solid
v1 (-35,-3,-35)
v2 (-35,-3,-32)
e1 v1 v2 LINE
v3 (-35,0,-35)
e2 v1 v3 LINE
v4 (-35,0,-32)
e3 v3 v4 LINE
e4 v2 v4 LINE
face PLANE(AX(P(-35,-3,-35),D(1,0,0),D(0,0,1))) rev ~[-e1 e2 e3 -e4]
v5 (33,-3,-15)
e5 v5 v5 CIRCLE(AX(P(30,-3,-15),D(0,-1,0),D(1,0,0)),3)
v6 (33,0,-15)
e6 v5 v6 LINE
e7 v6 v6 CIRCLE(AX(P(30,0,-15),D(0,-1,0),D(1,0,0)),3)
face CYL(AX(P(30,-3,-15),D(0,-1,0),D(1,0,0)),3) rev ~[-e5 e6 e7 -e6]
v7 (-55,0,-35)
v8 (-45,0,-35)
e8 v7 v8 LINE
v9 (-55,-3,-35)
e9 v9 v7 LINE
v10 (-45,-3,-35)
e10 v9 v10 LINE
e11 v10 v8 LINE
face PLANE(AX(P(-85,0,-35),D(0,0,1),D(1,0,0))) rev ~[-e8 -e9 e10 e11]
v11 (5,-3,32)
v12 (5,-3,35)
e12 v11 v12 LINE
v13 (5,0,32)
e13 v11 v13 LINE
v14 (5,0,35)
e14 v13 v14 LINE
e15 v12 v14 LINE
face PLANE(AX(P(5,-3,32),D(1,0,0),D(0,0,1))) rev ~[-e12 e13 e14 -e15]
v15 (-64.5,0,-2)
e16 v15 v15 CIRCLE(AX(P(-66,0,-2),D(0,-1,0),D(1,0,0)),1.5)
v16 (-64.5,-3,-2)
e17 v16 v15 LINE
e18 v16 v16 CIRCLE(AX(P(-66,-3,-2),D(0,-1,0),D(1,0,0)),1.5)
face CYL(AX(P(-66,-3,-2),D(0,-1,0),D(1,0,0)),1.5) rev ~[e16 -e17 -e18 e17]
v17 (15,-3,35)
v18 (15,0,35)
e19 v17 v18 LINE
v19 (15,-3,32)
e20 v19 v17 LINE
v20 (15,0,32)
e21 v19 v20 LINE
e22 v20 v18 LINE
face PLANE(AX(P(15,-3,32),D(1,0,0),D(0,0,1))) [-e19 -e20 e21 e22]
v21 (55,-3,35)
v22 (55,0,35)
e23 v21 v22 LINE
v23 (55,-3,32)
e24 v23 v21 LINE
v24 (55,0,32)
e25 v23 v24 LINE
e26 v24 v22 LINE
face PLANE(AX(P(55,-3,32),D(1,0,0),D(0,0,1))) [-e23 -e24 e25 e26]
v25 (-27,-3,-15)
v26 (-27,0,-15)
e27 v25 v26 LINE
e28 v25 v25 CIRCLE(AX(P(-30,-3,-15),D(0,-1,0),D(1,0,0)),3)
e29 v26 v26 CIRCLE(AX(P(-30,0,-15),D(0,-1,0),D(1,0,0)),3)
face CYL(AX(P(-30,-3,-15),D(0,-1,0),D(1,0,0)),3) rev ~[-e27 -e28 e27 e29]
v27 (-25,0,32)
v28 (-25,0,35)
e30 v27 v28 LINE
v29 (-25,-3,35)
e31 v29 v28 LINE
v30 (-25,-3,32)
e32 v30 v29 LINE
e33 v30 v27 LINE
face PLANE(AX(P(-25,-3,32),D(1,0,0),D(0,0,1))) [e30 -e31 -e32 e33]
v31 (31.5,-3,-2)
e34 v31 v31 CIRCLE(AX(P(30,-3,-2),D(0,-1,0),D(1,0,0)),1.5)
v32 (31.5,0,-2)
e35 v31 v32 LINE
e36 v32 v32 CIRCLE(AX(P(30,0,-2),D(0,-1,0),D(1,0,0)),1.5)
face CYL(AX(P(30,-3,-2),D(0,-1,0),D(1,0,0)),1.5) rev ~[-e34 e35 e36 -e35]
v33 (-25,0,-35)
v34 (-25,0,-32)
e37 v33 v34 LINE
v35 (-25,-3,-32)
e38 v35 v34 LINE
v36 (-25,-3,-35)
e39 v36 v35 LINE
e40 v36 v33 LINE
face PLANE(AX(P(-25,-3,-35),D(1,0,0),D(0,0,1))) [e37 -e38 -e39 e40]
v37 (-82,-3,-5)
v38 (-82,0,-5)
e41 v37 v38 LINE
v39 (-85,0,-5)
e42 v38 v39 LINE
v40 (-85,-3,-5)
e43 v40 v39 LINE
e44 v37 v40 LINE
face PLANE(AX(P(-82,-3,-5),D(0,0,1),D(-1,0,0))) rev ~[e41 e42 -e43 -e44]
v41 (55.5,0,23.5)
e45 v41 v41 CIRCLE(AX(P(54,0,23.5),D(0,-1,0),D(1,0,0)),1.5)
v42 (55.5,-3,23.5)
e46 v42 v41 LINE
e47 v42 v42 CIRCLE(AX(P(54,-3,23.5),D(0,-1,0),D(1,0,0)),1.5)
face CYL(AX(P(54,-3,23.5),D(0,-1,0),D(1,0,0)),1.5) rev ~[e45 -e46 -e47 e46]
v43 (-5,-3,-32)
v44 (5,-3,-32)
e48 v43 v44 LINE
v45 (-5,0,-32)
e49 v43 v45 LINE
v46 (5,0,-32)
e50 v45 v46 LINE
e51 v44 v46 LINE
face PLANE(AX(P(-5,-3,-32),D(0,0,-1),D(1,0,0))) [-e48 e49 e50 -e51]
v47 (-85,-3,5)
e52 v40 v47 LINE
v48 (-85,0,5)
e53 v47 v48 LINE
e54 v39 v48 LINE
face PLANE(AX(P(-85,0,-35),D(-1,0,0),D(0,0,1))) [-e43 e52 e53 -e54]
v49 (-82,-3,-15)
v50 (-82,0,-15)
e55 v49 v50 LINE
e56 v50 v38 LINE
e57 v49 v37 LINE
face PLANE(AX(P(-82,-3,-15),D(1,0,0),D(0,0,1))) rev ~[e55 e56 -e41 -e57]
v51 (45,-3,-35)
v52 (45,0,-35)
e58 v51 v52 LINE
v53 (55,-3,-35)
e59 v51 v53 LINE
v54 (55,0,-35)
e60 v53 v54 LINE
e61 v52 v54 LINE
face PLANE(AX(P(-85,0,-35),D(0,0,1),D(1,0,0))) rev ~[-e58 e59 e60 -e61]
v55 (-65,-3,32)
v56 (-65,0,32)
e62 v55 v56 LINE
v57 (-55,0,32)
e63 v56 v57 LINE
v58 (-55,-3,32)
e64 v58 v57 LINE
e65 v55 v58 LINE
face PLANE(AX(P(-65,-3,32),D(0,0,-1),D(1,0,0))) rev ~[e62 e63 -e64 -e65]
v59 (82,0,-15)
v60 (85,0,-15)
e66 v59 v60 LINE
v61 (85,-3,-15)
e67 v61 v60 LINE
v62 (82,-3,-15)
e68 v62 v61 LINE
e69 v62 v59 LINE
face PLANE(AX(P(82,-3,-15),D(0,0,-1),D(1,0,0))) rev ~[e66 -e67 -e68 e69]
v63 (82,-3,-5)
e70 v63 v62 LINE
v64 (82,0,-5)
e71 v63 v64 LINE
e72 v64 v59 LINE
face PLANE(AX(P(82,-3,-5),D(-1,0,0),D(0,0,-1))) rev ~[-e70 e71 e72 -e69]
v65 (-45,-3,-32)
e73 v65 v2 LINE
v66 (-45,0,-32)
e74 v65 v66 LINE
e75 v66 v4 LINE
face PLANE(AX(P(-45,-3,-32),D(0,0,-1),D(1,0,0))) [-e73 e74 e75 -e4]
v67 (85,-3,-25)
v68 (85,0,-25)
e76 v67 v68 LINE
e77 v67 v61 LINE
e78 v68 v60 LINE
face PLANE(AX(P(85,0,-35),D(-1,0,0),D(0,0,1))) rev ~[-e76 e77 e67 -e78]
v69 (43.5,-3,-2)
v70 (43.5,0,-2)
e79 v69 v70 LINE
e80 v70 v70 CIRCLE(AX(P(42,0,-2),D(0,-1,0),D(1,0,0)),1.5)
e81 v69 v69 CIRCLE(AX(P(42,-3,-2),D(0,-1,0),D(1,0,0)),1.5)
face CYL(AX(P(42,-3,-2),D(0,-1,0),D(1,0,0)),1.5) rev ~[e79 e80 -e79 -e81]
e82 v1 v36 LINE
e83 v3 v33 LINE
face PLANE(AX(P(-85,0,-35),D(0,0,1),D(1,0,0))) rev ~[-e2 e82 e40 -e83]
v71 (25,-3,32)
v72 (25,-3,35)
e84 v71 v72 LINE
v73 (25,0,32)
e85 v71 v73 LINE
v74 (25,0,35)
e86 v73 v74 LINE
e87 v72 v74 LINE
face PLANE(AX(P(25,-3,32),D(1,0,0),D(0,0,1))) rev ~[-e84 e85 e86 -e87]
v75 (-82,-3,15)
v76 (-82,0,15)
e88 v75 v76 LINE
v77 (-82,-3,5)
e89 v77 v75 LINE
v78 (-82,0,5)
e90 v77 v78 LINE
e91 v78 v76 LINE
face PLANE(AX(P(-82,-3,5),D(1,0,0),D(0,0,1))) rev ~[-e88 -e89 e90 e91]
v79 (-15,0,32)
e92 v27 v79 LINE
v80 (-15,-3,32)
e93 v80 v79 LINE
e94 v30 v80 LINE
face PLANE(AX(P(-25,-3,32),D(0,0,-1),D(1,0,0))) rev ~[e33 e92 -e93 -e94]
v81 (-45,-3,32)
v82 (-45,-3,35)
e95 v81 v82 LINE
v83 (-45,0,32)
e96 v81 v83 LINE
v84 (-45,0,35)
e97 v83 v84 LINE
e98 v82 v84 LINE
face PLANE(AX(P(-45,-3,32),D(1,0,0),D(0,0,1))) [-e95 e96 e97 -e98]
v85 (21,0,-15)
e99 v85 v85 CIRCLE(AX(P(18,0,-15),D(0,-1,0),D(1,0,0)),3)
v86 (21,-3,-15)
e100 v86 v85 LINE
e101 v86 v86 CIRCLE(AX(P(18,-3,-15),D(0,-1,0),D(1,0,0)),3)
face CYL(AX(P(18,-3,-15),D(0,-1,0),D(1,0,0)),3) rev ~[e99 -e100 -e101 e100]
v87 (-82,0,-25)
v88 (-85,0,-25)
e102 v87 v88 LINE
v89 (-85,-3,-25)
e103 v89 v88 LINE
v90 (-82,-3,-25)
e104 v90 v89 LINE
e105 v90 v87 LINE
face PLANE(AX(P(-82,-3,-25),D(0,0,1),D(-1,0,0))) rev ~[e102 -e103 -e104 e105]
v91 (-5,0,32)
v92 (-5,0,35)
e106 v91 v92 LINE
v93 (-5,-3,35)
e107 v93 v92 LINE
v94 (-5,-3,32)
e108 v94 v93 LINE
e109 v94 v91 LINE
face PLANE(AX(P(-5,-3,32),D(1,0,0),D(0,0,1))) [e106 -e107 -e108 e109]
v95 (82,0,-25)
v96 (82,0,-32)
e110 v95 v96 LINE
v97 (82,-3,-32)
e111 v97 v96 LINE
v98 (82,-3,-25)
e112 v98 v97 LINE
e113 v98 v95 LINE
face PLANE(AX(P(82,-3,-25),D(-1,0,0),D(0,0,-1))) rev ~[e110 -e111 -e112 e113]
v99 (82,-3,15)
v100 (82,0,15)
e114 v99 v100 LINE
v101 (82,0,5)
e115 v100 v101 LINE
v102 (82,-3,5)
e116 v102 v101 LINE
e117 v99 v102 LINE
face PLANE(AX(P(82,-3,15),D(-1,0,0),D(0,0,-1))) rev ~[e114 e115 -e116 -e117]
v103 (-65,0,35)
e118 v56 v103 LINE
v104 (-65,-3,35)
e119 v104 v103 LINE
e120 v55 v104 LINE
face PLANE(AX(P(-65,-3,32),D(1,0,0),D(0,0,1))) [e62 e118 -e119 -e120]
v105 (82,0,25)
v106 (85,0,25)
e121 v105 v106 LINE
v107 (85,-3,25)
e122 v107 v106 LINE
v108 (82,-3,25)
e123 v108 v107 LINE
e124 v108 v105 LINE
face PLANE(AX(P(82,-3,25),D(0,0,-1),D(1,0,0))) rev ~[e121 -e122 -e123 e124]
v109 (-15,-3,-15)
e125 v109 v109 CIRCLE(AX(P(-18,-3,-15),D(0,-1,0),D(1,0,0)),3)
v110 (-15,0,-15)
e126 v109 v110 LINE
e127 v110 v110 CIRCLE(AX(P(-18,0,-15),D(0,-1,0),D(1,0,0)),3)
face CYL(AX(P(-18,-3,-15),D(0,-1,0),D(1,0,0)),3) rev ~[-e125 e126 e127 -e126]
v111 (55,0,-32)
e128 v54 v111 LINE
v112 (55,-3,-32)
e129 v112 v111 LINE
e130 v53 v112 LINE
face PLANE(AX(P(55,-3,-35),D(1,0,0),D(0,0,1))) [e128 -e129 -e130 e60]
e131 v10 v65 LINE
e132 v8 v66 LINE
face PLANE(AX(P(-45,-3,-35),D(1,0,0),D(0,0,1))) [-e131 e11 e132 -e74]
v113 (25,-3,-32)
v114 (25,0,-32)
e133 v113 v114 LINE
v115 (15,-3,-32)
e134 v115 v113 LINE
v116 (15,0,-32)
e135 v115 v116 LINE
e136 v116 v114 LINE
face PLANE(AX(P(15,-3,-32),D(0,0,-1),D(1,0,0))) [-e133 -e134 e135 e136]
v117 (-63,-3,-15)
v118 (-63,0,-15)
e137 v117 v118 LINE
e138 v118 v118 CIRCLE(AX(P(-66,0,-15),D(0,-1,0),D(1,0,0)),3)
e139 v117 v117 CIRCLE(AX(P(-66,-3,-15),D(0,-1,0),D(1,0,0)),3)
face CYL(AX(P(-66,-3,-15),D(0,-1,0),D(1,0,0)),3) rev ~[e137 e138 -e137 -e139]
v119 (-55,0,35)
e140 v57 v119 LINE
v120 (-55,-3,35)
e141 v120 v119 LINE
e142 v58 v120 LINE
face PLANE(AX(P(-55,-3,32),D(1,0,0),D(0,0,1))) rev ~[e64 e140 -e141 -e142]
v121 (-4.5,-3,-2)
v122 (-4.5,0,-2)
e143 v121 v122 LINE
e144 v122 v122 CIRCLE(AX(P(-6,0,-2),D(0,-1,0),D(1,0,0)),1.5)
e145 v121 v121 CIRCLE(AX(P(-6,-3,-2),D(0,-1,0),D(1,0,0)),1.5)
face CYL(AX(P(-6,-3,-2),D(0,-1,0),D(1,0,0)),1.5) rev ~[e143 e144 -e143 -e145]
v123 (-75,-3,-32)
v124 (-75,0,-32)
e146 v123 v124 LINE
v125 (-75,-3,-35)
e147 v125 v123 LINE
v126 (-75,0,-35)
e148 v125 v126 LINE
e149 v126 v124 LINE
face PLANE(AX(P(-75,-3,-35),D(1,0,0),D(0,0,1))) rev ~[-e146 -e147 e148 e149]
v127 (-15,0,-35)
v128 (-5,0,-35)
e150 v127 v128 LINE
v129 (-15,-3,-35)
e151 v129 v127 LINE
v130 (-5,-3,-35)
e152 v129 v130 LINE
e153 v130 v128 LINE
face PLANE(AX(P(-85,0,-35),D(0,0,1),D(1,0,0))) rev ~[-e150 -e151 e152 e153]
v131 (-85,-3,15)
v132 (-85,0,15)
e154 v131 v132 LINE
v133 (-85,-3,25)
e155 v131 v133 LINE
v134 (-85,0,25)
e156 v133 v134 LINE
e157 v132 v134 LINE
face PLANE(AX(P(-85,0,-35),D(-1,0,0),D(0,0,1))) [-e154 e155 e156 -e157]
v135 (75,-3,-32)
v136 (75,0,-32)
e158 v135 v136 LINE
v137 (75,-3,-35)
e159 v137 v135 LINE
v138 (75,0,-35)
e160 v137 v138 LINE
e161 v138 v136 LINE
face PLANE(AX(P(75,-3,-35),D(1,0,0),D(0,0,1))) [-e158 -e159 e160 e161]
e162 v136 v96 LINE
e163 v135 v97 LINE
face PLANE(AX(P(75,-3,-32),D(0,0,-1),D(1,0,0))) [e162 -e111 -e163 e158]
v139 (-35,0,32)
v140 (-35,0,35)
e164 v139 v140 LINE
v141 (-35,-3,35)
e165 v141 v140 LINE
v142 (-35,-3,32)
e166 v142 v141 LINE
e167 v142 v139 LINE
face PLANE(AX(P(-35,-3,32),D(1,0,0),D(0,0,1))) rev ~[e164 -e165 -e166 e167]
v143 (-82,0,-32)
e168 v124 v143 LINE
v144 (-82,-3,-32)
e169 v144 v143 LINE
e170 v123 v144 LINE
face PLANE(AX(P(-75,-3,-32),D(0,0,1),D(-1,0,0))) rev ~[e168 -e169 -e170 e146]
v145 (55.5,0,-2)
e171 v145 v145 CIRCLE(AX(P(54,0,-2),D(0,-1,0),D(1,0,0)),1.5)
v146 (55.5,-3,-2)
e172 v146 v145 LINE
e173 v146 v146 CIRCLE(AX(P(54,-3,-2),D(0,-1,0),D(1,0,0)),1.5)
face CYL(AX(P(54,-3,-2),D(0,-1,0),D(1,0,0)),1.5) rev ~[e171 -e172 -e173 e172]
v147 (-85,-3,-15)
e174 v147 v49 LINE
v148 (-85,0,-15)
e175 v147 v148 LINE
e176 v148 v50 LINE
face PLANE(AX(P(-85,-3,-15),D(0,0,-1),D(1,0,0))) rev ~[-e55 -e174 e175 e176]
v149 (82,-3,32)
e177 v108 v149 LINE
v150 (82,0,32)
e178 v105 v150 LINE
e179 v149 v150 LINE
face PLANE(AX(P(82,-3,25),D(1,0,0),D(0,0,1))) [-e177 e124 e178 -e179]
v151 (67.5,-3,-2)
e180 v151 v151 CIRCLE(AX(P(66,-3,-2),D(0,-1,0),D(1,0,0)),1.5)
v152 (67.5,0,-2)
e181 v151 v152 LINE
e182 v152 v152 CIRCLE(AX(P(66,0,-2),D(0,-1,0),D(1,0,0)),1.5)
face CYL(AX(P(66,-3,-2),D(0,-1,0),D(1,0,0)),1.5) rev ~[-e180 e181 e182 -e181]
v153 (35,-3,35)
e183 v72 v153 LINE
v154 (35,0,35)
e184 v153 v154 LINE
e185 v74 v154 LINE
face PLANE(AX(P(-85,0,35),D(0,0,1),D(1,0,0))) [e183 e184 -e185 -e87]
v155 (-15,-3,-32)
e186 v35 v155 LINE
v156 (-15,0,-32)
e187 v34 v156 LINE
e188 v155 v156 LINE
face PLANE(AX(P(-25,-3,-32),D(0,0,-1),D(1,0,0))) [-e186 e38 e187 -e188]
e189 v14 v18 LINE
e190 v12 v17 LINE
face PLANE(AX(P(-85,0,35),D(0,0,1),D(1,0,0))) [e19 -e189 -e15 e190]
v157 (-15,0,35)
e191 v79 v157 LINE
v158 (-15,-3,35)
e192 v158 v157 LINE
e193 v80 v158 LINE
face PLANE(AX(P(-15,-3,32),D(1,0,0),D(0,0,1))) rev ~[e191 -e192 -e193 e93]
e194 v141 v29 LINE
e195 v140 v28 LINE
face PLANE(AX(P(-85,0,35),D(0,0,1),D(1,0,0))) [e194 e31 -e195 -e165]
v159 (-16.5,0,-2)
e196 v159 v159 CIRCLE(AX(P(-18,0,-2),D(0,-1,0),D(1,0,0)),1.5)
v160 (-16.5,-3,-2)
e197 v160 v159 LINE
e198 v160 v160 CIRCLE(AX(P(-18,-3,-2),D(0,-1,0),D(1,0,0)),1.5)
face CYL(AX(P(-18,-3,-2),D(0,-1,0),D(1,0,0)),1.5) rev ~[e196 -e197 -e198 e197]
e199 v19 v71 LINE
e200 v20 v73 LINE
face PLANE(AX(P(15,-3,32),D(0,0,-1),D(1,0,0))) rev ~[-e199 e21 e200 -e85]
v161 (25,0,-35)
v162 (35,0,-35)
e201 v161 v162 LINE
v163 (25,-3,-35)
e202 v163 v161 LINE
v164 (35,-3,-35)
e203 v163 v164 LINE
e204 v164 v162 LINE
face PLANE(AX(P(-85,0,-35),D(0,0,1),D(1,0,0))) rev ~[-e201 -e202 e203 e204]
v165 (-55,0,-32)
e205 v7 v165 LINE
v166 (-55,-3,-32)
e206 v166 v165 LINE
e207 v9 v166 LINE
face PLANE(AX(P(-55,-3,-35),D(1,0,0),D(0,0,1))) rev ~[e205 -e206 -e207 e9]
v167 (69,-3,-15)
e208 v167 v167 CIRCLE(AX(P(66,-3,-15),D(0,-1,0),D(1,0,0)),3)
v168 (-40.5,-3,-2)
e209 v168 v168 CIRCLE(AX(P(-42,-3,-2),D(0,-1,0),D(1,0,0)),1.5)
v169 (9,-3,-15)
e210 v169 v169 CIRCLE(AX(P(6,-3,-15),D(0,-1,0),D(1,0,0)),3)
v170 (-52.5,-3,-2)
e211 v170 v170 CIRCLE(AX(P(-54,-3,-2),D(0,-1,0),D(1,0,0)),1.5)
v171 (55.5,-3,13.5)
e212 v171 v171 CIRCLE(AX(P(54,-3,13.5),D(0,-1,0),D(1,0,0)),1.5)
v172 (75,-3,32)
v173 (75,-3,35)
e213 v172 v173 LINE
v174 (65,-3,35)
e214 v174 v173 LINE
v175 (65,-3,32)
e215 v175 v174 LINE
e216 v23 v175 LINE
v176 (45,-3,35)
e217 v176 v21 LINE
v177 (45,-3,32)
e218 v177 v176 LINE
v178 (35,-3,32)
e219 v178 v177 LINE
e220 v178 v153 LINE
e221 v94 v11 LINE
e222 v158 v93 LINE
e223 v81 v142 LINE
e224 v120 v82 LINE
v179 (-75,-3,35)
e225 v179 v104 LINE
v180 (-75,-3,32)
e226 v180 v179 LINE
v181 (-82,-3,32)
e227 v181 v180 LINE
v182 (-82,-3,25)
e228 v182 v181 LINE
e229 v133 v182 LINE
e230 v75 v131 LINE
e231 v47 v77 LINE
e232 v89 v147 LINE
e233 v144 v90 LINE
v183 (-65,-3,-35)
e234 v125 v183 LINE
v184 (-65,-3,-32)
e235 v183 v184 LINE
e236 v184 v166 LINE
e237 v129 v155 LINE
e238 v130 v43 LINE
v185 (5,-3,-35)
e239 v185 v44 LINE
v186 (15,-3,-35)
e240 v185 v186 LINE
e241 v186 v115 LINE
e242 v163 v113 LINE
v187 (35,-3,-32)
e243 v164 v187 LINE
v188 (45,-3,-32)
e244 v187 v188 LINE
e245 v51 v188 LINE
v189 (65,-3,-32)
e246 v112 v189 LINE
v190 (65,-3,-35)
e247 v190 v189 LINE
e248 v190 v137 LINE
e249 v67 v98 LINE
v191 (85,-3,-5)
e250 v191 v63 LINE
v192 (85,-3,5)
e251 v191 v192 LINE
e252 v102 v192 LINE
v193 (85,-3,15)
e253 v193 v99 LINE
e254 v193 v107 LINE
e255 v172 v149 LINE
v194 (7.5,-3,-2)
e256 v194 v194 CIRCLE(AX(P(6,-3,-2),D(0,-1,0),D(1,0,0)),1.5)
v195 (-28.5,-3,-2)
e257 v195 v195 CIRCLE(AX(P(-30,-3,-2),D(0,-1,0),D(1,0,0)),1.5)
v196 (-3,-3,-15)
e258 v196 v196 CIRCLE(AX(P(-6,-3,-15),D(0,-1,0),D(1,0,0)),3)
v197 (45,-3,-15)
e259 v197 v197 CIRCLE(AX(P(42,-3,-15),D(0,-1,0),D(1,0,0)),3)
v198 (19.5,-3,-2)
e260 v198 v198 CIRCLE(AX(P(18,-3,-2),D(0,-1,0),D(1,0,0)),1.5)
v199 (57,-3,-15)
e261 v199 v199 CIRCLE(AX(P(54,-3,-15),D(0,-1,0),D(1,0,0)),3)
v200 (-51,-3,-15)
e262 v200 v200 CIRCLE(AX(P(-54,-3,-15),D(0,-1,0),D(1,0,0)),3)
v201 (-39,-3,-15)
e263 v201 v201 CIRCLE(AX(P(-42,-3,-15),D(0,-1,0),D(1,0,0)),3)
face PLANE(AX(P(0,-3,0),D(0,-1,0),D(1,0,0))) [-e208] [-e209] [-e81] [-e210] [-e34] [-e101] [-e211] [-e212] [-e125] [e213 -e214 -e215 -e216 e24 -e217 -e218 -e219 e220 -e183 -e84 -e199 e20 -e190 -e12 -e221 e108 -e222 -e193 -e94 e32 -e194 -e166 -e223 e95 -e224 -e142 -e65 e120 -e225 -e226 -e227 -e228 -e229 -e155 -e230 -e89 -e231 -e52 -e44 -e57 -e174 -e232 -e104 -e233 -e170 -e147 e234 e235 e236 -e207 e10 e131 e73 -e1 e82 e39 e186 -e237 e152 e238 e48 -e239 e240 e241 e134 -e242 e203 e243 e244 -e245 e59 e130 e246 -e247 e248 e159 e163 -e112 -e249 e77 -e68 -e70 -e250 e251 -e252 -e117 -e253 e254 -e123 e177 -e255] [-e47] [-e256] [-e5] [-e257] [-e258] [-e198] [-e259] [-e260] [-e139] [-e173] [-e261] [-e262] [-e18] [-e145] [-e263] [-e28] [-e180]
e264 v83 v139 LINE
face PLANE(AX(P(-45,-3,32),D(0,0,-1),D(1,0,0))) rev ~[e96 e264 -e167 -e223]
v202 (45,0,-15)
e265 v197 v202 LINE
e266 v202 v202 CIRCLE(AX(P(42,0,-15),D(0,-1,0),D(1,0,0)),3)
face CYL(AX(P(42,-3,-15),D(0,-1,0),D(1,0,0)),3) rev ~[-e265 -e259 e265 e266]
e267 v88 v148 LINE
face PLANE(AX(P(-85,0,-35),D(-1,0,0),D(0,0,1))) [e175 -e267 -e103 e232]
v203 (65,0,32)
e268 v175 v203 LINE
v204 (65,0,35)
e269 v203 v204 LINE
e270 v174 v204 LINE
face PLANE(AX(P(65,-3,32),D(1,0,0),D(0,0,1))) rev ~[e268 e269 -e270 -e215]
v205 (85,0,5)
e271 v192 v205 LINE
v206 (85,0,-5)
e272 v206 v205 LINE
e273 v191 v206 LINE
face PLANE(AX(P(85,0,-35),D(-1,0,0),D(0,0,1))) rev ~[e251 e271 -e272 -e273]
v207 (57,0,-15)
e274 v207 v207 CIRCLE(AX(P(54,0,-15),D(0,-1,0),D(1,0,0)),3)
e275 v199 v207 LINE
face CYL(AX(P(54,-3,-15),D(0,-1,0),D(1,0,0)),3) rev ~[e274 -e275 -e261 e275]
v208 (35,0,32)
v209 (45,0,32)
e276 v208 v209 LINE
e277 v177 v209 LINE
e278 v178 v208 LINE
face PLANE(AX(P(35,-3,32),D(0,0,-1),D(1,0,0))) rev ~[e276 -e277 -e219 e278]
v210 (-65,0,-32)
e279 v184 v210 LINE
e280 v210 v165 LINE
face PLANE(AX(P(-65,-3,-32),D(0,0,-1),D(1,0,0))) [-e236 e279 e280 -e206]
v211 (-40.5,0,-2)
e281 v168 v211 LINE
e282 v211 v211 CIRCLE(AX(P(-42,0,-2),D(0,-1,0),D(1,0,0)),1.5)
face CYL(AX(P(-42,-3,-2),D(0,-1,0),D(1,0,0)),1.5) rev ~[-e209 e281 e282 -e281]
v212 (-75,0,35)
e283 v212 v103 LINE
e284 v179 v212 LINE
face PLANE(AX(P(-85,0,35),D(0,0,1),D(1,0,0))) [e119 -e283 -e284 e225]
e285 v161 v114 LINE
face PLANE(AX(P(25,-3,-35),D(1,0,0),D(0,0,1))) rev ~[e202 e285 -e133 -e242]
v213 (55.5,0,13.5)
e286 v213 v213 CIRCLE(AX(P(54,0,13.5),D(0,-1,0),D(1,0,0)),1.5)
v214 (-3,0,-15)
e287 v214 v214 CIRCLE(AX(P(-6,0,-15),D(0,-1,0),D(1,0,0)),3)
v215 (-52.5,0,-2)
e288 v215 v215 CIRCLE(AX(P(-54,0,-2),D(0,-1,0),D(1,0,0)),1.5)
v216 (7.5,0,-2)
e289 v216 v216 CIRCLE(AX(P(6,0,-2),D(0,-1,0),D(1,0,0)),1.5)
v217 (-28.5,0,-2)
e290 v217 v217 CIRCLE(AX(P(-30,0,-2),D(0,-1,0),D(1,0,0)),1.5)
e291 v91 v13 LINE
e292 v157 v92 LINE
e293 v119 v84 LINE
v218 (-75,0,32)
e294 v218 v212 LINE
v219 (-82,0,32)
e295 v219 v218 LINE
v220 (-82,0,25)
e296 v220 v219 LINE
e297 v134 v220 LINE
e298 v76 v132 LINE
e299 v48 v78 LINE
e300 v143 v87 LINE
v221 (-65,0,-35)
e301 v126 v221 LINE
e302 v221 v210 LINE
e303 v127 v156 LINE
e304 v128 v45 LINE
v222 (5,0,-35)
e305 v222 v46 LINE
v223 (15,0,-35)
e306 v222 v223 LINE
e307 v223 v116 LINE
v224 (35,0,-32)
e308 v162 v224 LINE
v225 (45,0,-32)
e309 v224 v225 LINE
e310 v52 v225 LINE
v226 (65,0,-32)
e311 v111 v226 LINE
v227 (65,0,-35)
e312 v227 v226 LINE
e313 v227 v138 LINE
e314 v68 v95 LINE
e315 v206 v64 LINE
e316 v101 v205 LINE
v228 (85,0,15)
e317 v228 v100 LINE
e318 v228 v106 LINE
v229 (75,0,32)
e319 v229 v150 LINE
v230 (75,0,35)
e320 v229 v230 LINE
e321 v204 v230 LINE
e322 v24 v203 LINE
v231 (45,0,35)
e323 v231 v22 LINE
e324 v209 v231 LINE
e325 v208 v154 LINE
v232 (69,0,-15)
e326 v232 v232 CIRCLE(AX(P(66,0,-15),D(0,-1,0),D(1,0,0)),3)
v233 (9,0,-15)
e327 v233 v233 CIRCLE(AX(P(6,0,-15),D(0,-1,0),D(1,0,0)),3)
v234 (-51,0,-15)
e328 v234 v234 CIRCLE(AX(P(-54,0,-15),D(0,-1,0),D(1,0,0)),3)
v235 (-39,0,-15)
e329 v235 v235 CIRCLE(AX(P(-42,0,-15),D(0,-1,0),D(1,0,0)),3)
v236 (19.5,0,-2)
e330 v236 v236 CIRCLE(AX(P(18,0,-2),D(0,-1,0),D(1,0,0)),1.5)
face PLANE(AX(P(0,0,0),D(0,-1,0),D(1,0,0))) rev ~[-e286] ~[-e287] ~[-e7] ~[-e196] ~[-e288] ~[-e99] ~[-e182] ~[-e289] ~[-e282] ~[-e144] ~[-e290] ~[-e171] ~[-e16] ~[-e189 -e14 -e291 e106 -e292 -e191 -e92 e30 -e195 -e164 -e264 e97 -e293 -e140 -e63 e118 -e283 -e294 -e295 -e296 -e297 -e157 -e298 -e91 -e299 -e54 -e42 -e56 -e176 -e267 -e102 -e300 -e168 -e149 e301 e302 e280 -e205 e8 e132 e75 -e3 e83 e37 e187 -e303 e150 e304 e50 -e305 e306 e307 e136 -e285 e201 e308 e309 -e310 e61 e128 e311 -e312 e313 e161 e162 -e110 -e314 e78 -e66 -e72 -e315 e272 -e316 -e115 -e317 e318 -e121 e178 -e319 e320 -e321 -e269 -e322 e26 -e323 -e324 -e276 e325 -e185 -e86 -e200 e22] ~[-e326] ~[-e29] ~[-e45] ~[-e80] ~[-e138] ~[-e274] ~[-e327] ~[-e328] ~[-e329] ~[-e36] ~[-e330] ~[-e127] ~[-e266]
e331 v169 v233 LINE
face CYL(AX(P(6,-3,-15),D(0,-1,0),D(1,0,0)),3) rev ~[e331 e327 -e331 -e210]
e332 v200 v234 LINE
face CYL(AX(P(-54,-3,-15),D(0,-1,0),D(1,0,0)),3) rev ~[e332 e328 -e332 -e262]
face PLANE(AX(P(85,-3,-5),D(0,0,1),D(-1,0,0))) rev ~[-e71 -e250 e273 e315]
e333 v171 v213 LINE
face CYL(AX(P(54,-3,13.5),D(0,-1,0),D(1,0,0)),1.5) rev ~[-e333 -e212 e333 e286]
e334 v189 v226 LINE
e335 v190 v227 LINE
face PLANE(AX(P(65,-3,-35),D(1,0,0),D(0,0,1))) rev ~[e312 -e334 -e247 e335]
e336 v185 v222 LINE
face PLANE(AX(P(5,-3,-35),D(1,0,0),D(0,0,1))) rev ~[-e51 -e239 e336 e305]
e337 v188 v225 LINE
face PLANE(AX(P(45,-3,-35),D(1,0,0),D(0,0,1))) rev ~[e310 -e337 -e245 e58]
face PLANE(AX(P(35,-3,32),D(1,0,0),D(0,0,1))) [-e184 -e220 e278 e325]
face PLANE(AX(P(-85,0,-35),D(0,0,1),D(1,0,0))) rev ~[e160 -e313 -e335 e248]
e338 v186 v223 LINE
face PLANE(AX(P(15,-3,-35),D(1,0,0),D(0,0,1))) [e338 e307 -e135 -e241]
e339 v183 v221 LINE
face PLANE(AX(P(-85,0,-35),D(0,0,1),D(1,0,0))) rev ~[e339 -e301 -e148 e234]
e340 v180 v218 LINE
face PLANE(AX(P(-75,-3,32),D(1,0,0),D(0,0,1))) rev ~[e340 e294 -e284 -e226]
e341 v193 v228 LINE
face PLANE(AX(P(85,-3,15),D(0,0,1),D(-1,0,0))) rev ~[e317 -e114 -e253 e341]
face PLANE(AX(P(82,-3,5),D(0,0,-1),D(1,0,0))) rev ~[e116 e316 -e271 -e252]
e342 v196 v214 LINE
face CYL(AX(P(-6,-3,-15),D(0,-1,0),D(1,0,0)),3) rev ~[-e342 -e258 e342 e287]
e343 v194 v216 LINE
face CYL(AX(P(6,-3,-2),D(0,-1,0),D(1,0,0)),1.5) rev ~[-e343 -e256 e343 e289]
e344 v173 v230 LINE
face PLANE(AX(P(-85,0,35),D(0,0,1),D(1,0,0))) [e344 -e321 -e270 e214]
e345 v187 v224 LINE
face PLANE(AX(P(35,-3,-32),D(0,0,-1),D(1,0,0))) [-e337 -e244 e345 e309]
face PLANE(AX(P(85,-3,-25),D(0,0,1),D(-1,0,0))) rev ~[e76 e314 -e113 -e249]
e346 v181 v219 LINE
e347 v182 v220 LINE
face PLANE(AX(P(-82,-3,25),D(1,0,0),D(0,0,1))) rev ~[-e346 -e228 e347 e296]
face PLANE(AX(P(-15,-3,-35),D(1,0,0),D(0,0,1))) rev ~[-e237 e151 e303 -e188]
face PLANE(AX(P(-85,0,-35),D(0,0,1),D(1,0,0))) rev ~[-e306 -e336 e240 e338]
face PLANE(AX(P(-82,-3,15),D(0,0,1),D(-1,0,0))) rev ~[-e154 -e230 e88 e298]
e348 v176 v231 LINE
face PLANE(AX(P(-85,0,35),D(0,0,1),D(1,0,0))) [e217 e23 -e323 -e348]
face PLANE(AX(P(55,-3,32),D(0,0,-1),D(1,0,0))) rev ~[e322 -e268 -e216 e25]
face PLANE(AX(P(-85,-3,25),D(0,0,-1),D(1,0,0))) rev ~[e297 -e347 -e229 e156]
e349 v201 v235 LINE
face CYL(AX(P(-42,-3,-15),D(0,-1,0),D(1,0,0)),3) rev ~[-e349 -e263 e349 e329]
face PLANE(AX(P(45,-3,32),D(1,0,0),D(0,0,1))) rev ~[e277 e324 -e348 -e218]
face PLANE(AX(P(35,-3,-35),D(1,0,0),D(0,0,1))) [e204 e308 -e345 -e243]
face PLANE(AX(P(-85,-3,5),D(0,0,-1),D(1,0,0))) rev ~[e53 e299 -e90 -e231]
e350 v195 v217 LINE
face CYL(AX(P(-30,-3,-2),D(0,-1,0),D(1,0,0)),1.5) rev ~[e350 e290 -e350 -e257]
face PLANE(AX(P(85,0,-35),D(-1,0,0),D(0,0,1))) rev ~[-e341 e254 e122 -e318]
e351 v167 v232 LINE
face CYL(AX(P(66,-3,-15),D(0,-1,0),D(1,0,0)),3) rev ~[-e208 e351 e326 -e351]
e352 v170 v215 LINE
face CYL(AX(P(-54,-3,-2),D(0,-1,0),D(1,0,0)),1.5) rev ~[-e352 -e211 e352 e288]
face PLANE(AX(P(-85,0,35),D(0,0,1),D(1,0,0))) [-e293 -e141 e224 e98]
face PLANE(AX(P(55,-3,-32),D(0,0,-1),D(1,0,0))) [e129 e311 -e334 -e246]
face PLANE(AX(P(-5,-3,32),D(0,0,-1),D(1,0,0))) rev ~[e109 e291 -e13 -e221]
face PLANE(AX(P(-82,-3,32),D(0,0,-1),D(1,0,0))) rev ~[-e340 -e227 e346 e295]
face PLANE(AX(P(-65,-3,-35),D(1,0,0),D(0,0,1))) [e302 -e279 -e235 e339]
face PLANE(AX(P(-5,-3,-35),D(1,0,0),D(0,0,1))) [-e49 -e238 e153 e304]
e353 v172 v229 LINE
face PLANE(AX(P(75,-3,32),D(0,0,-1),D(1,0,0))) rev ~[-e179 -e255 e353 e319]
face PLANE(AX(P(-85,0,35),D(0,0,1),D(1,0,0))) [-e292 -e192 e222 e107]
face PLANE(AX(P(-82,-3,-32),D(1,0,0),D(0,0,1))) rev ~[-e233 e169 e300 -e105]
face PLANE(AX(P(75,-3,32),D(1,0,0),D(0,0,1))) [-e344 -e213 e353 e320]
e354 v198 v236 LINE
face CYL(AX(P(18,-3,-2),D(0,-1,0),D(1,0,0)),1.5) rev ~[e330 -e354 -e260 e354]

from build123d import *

# Parameters (mm, degrees)
F0_W     = 170
F0_H     = 70
F1_DEPTH = 3
F2_R     = 3
F3_DEPTH = 3.001
F4_R     = 1.5
F5_DEPTH = 3.001
F6_R     = 1.5
F7_DEPTH = 3.001
F8_W     = 3
F8_H     = 3
F8_W_2   = 7
F8_W_3   = 10
F8_H_2   = 7
F9_DEPTH = 3.001


with BuildPart() as f1:
    # F0 (on Front) → F1 (new body)
    with BuildSketch(Plane.XZ):
        Rectangle(F0_W, F0_H)
    extrude(amount=F1_DEPTH)

    # F2 (on face) → F3 (cut, through all)
    with BuildSketch(Plane.XZ.offset(3)):
        with Locations((66, -15)):
            Circle(F2_R)
        with Locations((54, -15)):
            Circle(F2_R)
        with Locations((42, -15)):
            Circle(F2_R)
        with Locations((30, -15)):
            Circle(F2_R)
        with Locations((18, -15)):
            Circle(F2_R)
        with Locations((6, -15)):
            Circle(F2_R)
        with Locations((-6, -15)):
            Circle(F2_R)
        with Locations((-18, -15)):
            Circle(F2_R)
        with Locations((-30, -15)):
            Circle(F2_R)
        with Locations((-42, -15)):
            Circle(F2_R)
        with Locations((-54, -15)):
            Circle(F2_R)
        with Locations((-66, -15)):
            Circle(F2_R)
    extrude(amount=-F3_DEPTH, mode=Mode.SUBTRACT)

    # F4 (on face) → F5 (cut, through all)
    with BuildSketch(Plane.XZ.offset(3)):
        with Locations((-66, -2)):
            Circle(F4_R)
        with Locations((-54, -2)):
            Circle(F4_R)
        with Locations((-42, -2)):
            Circle(F4_R)
        with Locations((-30, -2)):
            Circle(F4_R)
        with Locations((-18, -2)):
            Circle(F4_R)
        with Locations((-6, -2)):
            Circle(F4_R)
        with Locations((6, -2)):
            Circle(F4_R)
        with Locations((18, -2)):
            Circle(F4_R)
        with Locations((30, -2)):
            Circle(F4_R)
        with Locations((42, -2)):
            Circle(F4_R)
        with Locations((54, -2)):
            Circle(F4_R)
        with Locations((66, -2)):
            Circle(F4_R)
    extrude(amount=-F5_DEPTH, mode=Mode.SUBTRACT)

    # F6 (on face) → F7 (cut, through all)
    with BuildSketch(Plane.XZ.offset(3)):
        with Locations((54, 13.5)):
            Circle(F6_R)
        with Locations((54, 23.5)):
            Circle(F6_R)
    extrude(amount=-F7_DEPTH, mode=Mode.SUBTRACT)

    # F8 (on face) → F9 (cut, through all)
    with BuildSketch(Plane.XZ.offset(3)):
        with Locations((-83.5, -33.5)):
            Rectangle(F8_W, F8_H)
        with Locations((-78.5, -33.5)):
            Rectangle(F8_W_2, F8_H)
        Polygon((-85, -28), (-85, -32), (-82, -32), (-82, -25), (-85, -25), align=None)
        with Locations((-60, -33.5)):
            Rectangle(F8_W_3, F8_H)
        with Locations((-40, -33.5)):
            Rectangle(F8_W_3, F8_H)
        with Locations((-20, -33.5)):
            Rectangle(F8_W_3, F8_H)
        with Locations((0, -33.5)):
            Rectangle(F8_W_3, F8_H)
        with Locations((20, -33.5)):
            Rectangle(F8_W_3, F8_H)
        with Locations((40, -33.5)):
            Rectangle(F8_W_3, F8_H)
        with Locations((60, -33.5)):
            Rectangle(F8_W_3, F8_H)
        with Locations((83.5, -33.5)):
            Rectangle(F8_W, F8_H)
        Polygon((82, -32), (85, -32), (85, -28), (85, -25), (82, -25), align=None)
        with Locations((78.5, -33.5)):
            Rectangle(F8_W_2, F8_H)
        with Locations((-60, 33.5)):
            Rectangle(F8_W_3, F8_H)
        with Locations((-20, 33.5)):
            Rectangle(F8_W_3, F8_H)
        with Locations((-40, 33.5)):
            Rectangle(F8_W_3, F8_H)
        with Locations((0, 33.5)):
            Rectangle(F8_W_3, F8_H)
        with Locations((-83.5, 33.5)):
            Rectangle(F8_W, F8_H)
        with Locations((-83.5, 28.5)):
            Rectangle(F8_W, F8_H_2)
        with Locations((-78.5, 33.5)):
            Rectangle(F8_W_2, F8_H)
        with Locations((78.5, 33.5)):
            Rectangle(F8_W_2, F8_H)
        with Locations((83.5, 33.5)):
            Rectangle(F8_W, F8_H)
        with Locations((83.5, 28.5)):
            Rectangle(F8_W, F8_H_2)
        with Locations((20, 33.5)):
            Rectangle(F8_W_3, F8_H)
        with Locations((40, 33.5)):
            Rectangle(F8_W_3, F8_H)
        with Locations((60, 33.5)):
            Rectangle(F8_W_3, F8_H)
        Polygon((-82, 5), (-82, 15), (-85, 15), (-85, 12), (-85, 5), align=None)
        Polygon((-82, -15), (-82, -5), (-85, -5), (-85, -8), (-85, -15), align=None)
        Polygon((85, 12), (85, 15), (82, 15), (82, 5), (85, 5), align=None)
        Polygon((85, -8), (85, -5), (82, -5), (82, -15), (85, -15), align=None)
    extrude(amount=-F9_DEPTH, mode=Mode.SUBTRACT)


solid = f1.part
